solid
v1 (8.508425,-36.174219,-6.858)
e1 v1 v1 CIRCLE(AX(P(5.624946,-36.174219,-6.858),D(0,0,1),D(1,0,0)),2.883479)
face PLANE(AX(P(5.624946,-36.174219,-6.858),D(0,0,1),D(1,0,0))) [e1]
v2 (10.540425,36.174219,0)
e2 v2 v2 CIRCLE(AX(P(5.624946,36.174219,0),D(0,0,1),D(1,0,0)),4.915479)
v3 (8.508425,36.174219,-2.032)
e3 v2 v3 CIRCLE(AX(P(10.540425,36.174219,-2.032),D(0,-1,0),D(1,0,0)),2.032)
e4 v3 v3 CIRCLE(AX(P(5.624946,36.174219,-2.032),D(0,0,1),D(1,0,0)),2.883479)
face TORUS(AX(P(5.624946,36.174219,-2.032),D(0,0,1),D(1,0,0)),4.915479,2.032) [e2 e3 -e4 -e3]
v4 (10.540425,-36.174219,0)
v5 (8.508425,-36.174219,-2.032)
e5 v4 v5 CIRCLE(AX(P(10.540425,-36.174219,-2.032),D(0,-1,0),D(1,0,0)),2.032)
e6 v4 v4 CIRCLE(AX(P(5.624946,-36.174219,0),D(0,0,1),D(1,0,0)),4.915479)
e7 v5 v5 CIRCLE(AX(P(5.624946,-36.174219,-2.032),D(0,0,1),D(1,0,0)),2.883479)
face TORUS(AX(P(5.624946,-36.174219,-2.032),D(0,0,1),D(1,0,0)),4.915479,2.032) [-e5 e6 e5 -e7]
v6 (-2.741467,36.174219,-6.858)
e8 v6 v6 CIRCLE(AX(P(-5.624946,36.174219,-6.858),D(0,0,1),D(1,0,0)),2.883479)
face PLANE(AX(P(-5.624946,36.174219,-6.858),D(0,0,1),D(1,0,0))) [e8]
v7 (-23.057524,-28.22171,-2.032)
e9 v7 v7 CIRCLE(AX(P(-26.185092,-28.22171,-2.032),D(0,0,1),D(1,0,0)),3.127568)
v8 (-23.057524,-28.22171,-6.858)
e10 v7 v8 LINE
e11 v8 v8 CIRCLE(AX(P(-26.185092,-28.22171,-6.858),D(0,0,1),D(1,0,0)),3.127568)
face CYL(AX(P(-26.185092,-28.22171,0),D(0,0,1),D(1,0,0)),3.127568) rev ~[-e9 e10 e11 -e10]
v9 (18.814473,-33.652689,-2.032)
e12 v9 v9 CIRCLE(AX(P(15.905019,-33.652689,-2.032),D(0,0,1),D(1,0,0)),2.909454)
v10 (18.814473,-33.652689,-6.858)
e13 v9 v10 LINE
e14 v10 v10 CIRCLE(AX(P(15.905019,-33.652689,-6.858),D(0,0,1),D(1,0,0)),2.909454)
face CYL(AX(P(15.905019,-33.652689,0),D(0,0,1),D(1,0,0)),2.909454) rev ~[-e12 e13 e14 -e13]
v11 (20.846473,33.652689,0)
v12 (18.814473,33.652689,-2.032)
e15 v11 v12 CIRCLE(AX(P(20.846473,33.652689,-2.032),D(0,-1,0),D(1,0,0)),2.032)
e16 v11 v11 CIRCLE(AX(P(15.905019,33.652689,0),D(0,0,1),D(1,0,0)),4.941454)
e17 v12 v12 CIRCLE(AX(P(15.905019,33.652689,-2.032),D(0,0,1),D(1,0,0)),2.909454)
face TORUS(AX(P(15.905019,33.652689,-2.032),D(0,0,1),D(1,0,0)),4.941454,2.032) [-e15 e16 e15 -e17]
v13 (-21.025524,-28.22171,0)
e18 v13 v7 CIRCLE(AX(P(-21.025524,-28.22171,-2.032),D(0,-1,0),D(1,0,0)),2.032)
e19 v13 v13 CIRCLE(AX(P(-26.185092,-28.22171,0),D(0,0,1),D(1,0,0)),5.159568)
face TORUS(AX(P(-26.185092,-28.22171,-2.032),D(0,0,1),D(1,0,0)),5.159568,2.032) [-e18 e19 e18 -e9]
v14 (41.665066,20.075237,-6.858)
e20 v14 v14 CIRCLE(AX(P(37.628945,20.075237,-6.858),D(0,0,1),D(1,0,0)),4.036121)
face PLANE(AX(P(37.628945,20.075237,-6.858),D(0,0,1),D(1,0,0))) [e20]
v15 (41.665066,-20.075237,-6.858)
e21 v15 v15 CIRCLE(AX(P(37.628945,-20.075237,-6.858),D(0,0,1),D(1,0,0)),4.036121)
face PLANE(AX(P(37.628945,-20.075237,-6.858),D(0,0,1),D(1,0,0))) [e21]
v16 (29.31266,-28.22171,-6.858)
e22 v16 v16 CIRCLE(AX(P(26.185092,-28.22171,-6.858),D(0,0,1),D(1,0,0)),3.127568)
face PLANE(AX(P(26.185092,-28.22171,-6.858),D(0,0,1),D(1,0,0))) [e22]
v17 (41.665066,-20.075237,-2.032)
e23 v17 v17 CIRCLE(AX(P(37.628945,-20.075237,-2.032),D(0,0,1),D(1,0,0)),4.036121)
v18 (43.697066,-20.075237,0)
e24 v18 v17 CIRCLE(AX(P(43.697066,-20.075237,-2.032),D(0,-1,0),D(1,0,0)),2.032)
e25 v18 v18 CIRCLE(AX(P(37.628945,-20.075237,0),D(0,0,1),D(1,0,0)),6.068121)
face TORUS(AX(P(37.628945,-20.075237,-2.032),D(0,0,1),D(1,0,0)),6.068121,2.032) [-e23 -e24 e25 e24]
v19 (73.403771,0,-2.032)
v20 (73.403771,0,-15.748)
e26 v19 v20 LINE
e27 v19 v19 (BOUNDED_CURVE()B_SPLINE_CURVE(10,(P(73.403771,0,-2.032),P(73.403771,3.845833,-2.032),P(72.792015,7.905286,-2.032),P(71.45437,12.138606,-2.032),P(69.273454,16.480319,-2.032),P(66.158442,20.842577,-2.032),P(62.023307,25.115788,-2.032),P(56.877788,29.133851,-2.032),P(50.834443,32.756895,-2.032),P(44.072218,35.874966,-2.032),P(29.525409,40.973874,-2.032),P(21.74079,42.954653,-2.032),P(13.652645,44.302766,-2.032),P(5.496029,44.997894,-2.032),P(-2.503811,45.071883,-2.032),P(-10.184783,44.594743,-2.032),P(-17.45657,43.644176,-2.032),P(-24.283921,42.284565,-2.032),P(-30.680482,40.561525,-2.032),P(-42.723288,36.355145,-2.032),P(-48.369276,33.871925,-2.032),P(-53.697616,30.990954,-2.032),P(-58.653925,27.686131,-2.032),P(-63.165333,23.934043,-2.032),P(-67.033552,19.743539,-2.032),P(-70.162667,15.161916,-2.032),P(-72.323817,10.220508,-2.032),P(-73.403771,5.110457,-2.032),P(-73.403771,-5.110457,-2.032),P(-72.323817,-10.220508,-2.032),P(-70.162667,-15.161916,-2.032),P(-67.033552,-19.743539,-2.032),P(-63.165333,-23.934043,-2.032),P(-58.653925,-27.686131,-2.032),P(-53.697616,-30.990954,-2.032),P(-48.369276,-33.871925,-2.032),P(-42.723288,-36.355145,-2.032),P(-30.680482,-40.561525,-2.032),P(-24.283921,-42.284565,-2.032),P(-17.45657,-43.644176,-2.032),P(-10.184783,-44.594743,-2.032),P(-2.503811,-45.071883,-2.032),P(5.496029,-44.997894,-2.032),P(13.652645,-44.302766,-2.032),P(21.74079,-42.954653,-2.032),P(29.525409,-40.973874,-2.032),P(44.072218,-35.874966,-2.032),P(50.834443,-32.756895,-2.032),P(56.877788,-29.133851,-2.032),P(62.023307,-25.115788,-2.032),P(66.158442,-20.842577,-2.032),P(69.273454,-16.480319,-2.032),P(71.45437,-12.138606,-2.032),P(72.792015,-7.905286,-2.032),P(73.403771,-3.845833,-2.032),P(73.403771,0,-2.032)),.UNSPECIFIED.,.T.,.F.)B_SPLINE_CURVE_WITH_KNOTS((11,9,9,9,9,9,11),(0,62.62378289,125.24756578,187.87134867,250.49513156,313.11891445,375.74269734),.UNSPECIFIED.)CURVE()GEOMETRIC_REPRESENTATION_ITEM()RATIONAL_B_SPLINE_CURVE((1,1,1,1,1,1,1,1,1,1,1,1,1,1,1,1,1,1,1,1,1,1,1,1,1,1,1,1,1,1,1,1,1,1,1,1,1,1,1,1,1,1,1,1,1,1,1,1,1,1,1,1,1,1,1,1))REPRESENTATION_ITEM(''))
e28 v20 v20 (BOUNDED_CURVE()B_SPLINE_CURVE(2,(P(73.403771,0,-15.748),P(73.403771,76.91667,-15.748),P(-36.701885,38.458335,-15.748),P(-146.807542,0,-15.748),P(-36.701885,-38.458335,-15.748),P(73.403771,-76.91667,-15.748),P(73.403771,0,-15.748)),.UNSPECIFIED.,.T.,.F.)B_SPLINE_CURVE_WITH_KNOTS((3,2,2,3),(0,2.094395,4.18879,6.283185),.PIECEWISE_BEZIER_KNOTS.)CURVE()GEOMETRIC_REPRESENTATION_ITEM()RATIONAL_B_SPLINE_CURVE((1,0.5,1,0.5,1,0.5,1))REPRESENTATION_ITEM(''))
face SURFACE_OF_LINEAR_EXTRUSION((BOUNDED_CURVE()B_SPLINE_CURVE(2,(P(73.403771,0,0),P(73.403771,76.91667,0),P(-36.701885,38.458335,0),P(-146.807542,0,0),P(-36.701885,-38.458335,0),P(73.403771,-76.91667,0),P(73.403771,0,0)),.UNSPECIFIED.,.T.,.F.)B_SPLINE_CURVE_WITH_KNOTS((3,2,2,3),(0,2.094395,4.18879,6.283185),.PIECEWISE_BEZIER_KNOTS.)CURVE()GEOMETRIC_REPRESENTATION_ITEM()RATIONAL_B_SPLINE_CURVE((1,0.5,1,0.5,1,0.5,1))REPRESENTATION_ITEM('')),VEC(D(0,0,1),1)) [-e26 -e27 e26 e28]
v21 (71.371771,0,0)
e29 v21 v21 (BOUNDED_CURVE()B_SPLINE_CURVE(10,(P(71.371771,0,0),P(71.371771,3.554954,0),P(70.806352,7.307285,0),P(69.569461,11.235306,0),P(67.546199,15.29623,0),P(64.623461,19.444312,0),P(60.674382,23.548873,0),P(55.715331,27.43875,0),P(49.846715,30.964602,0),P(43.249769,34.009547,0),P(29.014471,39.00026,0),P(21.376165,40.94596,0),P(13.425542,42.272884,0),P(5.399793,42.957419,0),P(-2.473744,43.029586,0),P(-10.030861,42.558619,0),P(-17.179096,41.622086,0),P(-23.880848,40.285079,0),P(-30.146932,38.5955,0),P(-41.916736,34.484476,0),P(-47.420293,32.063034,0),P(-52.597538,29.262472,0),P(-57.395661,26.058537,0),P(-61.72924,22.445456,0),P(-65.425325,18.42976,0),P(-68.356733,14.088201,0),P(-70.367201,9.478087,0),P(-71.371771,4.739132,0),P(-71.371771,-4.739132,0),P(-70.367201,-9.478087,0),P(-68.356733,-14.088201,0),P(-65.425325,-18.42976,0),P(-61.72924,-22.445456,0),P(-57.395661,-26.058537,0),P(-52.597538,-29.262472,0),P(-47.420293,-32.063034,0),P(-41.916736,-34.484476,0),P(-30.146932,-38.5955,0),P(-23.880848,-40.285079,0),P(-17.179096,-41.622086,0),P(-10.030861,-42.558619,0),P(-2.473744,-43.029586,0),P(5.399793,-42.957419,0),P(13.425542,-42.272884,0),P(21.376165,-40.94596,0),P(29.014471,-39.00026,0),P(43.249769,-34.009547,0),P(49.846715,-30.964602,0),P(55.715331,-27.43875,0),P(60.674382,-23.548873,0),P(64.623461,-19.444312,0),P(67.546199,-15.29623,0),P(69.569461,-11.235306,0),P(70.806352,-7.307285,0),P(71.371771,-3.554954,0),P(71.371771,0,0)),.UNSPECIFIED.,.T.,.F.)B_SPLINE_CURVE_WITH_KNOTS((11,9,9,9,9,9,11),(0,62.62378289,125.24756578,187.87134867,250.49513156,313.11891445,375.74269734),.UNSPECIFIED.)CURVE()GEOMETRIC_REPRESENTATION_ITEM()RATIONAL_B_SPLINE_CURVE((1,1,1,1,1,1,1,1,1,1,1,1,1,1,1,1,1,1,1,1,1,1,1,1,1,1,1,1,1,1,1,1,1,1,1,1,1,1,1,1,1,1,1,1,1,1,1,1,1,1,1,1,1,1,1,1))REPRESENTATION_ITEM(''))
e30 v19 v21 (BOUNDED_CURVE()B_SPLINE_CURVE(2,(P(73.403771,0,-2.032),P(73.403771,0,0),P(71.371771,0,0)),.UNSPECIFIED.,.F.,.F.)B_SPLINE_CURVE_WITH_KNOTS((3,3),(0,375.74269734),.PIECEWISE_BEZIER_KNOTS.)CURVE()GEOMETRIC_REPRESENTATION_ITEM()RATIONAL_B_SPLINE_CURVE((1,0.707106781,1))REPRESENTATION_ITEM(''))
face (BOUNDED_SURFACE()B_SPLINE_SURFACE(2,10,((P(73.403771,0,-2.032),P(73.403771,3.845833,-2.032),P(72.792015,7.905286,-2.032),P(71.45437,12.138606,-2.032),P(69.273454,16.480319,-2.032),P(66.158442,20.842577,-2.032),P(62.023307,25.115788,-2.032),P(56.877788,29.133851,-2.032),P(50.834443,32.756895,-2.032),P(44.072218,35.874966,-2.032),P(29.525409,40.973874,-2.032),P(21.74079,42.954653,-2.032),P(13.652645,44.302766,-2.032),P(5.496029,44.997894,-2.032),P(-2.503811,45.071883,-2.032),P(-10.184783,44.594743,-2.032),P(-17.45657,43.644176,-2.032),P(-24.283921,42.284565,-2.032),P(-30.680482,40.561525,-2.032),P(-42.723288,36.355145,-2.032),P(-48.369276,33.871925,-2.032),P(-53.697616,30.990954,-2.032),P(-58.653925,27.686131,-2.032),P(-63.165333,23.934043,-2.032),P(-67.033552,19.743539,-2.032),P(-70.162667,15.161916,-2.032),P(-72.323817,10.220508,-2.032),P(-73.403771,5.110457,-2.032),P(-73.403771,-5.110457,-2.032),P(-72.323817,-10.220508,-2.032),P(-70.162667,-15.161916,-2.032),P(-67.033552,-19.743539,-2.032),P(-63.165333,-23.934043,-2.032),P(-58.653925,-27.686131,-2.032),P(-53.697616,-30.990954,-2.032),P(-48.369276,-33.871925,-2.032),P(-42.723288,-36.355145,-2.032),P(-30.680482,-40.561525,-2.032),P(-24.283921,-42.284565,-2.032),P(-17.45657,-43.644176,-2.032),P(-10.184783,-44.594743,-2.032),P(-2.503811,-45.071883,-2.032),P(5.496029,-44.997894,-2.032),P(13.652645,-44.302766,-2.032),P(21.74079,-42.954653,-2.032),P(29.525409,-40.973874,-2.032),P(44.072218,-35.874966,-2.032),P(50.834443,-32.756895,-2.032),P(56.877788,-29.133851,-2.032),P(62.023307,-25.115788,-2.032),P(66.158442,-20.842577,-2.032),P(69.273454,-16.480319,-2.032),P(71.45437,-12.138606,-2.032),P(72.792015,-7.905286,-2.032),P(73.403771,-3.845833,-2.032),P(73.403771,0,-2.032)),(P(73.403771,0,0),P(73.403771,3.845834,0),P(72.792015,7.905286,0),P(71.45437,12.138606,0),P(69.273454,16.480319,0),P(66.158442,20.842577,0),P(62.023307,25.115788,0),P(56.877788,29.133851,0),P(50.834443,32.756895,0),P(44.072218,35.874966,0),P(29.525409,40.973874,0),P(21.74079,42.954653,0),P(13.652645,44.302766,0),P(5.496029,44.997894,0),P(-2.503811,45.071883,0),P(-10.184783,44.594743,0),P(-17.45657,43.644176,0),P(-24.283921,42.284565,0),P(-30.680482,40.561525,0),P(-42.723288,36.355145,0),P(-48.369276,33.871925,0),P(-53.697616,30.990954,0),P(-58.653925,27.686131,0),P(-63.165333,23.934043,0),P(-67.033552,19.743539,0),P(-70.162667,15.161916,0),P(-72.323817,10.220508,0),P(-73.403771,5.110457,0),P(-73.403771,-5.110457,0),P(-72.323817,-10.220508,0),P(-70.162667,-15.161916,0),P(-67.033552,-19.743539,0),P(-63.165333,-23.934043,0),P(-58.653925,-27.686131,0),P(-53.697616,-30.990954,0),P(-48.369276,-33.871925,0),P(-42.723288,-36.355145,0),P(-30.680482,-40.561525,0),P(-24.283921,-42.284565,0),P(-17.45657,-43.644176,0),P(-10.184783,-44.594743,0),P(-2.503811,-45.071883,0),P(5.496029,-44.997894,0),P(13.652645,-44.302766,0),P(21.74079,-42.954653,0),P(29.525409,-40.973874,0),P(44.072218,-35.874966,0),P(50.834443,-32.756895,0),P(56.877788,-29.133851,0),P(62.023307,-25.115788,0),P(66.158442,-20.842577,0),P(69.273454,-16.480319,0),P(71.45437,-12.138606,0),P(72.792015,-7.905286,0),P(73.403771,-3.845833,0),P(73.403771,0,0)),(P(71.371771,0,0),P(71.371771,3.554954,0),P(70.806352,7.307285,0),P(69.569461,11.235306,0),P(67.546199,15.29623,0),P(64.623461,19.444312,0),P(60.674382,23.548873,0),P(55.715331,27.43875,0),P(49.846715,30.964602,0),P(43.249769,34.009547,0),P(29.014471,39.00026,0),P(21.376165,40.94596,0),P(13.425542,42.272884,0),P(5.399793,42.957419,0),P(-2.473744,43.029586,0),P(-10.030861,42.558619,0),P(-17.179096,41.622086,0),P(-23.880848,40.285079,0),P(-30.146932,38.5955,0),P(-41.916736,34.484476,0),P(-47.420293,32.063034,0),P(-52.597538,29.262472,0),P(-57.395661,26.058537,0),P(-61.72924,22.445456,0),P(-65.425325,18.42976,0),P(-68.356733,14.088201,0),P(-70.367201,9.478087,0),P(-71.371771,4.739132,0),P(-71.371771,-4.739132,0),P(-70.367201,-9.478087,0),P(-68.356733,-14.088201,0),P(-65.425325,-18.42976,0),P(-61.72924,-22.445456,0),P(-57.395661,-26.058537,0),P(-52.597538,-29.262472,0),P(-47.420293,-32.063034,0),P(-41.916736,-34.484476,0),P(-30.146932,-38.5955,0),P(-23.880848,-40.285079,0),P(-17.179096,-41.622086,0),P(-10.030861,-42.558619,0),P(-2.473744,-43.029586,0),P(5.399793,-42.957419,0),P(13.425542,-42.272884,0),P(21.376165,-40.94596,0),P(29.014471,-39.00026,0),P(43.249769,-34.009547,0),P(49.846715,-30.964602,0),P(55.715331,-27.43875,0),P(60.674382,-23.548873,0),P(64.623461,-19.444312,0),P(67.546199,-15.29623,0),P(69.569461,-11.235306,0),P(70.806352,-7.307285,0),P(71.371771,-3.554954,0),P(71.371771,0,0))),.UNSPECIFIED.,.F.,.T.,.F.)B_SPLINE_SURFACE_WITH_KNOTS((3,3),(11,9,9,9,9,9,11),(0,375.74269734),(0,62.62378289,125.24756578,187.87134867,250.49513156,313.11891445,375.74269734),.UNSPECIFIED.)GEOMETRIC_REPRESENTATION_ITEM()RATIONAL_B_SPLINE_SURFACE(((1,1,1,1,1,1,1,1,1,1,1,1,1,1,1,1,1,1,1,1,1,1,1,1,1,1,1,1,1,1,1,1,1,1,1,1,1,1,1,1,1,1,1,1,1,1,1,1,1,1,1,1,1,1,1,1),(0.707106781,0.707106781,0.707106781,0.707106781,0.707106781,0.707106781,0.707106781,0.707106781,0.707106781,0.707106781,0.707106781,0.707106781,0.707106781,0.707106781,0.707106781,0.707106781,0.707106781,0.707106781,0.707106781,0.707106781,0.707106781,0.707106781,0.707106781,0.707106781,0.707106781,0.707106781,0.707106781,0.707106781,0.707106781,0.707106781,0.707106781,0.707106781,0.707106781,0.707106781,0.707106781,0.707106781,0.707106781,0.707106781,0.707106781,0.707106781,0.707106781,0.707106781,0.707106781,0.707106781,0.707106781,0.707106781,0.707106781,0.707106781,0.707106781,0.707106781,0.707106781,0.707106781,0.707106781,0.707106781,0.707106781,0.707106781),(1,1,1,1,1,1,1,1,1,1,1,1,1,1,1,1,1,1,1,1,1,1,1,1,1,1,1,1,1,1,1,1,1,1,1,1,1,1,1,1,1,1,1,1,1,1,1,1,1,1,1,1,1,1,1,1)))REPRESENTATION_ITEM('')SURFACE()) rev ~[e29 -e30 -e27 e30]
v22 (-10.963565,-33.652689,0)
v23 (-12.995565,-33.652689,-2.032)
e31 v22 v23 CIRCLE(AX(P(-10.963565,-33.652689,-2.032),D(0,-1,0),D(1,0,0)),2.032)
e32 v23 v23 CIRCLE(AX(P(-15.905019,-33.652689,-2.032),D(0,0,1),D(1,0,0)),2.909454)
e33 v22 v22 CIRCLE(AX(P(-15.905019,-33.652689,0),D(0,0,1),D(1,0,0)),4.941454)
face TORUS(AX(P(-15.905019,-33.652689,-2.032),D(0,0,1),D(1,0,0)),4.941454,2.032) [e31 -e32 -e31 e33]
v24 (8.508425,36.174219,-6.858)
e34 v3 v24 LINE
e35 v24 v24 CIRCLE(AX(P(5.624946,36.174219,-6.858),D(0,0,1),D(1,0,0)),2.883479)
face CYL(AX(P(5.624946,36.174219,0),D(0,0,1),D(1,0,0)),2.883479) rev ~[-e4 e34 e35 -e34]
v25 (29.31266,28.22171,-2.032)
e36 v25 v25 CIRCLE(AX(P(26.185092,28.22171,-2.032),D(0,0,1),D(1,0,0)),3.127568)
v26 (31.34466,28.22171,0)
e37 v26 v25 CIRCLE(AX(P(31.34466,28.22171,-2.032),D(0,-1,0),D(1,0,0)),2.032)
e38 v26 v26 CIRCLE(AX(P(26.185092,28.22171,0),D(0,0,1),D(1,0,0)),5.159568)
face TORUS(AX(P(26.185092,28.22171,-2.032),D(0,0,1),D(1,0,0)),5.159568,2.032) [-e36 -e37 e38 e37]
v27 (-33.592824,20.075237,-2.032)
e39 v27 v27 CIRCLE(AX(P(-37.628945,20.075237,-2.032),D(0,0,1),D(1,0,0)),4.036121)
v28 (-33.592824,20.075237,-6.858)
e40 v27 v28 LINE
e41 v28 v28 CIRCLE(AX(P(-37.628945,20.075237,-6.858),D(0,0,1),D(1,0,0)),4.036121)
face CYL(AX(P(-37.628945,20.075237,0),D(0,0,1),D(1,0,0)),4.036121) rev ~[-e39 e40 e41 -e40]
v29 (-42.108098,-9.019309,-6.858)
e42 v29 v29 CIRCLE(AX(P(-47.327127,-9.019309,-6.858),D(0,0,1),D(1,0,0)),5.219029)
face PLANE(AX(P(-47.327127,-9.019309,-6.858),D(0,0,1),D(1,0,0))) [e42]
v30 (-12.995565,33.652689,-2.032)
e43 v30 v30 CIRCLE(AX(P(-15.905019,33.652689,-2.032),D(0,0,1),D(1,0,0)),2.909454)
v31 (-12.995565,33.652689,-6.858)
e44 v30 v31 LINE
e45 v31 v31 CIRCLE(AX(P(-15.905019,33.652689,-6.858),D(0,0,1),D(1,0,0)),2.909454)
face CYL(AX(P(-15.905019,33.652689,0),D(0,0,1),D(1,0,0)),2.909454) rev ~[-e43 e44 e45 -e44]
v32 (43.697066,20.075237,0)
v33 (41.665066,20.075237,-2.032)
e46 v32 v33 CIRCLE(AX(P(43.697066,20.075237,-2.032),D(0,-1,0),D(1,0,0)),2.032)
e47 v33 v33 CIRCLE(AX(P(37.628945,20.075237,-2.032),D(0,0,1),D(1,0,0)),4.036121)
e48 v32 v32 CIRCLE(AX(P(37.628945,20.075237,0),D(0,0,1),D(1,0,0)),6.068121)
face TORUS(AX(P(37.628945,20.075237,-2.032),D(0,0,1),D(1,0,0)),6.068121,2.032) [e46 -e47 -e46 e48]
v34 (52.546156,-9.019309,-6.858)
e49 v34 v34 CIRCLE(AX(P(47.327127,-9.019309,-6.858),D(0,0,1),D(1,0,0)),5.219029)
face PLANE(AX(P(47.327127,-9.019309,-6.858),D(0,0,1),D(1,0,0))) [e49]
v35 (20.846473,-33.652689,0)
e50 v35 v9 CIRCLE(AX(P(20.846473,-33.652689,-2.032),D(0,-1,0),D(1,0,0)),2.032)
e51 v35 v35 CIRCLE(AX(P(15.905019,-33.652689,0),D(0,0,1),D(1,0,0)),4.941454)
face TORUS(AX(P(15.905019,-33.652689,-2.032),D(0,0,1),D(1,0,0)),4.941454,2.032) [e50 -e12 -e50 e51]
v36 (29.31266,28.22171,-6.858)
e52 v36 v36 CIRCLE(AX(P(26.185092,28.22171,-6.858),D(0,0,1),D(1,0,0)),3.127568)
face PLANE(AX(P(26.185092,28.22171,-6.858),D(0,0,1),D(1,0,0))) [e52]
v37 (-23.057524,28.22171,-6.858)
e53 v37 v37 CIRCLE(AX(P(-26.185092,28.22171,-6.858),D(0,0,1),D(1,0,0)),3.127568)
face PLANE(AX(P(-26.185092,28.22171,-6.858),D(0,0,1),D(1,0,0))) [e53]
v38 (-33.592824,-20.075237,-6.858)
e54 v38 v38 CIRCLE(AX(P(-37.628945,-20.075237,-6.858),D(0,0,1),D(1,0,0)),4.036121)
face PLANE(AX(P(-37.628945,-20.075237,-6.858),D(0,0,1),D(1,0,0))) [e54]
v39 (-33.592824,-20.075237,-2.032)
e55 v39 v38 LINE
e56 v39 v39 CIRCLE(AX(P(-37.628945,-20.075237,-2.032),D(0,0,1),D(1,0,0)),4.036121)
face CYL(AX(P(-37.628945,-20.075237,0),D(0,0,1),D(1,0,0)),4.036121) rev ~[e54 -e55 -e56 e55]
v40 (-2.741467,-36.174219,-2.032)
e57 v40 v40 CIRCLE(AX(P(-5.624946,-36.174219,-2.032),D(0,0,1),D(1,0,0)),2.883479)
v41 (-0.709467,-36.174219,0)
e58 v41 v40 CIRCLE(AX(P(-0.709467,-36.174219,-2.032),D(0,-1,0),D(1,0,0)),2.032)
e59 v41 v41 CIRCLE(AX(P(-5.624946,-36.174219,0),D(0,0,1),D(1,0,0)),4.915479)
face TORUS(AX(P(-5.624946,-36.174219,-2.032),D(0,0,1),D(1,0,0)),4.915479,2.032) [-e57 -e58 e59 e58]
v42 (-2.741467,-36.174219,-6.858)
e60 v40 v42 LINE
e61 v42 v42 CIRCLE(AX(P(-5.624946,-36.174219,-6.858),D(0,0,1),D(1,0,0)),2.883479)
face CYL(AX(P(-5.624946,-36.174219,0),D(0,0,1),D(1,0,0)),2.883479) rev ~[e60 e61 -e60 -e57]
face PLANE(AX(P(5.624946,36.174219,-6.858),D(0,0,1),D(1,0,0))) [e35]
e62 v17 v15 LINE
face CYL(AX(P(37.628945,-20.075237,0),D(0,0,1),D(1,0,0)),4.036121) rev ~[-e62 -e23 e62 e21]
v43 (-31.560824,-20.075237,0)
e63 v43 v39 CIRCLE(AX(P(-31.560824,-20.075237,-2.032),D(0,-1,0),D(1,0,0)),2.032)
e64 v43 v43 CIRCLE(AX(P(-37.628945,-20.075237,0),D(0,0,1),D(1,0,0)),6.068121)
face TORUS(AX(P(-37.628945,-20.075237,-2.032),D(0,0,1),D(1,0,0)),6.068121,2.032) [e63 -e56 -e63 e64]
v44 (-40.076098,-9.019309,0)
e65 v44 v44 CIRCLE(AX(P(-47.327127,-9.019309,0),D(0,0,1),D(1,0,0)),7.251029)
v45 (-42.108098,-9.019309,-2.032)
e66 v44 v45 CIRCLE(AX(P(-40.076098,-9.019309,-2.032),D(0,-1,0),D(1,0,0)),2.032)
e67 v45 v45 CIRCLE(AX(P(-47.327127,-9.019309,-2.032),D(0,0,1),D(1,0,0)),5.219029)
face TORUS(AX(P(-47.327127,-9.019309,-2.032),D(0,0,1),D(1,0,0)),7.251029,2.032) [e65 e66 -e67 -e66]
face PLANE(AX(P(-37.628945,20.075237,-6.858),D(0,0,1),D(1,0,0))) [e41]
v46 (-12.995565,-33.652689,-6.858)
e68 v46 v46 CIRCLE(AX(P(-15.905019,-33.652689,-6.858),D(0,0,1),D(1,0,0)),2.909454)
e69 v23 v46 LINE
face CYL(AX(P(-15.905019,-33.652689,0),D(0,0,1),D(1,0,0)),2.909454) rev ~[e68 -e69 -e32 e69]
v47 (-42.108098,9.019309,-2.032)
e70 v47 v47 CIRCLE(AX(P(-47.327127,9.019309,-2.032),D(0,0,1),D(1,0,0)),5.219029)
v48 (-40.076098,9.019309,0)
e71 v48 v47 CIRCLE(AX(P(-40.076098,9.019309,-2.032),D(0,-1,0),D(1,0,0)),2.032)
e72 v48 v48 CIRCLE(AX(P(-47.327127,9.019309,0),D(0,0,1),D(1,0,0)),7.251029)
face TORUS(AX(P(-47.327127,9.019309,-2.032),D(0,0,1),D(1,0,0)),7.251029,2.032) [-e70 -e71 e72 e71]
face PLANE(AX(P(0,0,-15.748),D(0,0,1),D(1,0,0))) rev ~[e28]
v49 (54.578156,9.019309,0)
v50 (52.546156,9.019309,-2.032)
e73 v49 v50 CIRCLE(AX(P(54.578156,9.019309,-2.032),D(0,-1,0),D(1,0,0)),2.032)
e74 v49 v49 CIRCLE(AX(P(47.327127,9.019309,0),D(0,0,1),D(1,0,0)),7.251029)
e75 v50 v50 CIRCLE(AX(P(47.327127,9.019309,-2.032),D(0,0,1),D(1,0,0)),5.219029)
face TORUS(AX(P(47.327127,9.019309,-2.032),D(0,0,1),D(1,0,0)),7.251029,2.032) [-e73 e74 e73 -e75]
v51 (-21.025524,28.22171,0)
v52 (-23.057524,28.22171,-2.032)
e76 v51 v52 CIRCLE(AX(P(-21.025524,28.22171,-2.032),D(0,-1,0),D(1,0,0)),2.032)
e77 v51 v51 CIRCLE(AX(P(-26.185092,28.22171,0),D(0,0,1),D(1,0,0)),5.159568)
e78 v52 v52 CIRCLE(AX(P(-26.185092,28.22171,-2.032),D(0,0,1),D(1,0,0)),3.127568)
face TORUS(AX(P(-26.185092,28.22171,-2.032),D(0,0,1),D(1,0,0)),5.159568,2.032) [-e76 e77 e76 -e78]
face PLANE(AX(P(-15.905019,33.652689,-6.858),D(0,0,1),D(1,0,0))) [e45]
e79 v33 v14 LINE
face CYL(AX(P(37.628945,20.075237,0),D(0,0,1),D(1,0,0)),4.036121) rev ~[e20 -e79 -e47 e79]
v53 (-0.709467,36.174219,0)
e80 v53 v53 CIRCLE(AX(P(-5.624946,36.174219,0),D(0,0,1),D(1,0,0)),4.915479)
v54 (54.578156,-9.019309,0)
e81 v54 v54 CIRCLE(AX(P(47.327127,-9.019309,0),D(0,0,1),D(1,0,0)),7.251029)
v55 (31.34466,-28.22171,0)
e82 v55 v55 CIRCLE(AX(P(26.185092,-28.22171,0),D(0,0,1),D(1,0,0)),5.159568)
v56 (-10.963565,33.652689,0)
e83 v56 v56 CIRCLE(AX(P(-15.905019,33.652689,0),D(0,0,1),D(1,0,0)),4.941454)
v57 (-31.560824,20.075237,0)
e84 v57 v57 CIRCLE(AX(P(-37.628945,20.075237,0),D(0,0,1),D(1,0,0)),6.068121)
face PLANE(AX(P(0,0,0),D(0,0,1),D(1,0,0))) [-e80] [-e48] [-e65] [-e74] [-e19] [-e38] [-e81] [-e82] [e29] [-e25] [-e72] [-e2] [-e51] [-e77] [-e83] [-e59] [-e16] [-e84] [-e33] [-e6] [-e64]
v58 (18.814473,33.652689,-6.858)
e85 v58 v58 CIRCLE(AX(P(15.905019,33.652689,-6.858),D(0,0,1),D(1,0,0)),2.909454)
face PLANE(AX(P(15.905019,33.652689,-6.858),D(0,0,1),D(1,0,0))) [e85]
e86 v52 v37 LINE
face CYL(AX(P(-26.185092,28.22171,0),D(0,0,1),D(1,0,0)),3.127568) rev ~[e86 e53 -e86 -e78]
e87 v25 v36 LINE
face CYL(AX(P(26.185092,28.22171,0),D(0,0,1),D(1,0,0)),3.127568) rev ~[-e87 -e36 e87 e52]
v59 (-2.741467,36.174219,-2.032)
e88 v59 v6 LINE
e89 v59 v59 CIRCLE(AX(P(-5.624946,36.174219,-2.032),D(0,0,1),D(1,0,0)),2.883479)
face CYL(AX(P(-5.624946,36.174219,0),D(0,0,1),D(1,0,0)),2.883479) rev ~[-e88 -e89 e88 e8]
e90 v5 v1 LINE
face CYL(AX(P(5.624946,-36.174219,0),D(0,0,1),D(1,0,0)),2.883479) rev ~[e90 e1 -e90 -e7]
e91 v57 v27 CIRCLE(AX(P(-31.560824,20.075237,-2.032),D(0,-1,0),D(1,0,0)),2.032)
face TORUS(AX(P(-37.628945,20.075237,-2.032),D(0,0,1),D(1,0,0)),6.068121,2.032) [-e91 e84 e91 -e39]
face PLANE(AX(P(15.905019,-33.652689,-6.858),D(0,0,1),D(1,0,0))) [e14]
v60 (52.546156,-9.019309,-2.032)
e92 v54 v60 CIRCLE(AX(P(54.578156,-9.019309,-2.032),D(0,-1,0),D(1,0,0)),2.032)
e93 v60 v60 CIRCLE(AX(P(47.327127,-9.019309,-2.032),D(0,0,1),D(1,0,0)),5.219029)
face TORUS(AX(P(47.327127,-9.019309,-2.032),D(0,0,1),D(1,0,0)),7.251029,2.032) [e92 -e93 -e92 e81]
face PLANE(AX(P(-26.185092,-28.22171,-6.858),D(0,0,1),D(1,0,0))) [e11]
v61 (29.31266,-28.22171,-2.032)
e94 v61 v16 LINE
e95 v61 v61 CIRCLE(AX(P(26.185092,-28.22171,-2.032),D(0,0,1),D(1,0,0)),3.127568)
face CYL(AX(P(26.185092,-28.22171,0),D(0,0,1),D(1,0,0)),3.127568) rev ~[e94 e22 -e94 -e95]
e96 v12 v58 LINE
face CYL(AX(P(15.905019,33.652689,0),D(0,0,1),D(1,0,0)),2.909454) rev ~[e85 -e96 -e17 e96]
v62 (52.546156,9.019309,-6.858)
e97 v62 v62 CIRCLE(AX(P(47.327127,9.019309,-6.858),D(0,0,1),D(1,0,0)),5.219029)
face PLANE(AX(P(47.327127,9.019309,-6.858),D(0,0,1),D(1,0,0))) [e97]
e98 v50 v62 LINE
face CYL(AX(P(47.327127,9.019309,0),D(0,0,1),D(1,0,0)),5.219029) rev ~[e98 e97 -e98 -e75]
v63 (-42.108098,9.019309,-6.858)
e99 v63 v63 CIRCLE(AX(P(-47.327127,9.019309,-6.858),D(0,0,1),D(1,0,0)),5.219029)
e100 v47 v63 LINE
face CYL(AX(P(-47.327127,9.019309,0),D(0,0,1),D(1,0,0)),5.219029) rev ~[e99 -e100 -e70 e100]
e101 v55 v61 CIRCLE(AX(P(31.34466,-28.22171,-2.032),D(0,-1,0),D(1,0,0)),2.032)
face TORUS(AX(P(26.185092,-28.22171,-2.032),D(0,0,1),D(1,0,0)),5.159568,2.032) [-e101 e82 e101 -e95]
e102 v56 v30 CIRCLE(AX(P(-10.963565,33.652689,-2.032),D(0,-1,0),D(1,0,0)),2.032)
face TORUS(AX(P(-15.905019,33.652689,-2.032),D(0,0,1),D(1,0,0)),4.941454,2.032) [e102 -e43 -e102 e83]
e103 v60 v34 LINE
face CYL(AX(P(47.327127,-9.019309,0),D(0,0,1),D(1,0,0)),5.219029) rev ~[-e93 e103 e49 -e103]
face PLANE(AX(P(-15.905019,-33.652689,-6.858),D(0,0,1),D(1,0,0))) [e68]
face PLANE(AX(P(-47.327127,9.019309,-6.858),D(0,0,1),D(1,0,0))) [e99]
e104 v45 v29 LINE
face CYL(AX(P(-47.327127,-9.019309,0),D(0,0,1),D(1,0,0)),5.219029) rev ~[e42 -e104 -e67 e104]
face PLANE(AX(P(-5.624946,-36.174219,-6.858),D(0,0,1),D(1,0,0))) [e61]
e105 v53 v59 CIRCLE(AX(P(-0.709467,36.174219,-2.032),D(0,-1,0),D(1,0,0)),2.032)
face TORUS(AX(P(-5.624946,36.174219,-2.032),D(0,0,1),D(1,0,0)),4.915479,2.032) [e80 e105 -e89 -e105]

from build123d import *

# Parameters (mm, degrees)
F2_DEPTH = 15.748
F0_R     = 5.219029
F0_R_2   = 4.036121
F0_R_3   = 3.127568
F0_R_4   = 2.909454
F0_R_5   = 2.883479
F3_DEPTH = 6.858
F4_R     = 2.032


with BuildPart() as f2:
    # F1 (on Top) → F2 (new body)
    with BuildSketch(Plane.XY):
        with BuildLine():
            add(Edge.make_bspline(
                [(73.403771, 0), (73.403771, 76.91667), (-36.701885, 38.458335), (-146.807542, 0), (-36.701885, -38.458335), (73.403771, -76.91667), (73.403771, 0)],
                knots=[0, 0, 0, 2.094395, 2.094395, 4.18879, 4.18879, 6.283185, 6.283185, 6.283185], degree=2, weights=[1, 0.5, 1, 0.5, 1, 0.5, 1]))
        make_face()
    extrude(amount=-F2_DEPTH)

    # F0 (on Top) → F3 (cut)
    with BuildSketch(Plane.XY):
        with Locations((-47.327127, 9.019309)):
            Circle(F0_R)
        with Locations((-37.628945, 20.075237)):
            Circle(F0_R_2)
        with Locations((-26.185092, 28.22171)):
            Circle(F0_R_3)
        with Locations((-15.905019, 33.652689)):
            Circle(F0_R_4)
        with Locations((-5.624946, 36.174219)):
            Circle(F0_R_5)
        with Locations((26.185092, 28.22171)):
            Circle(F0_R_3)
        with Locations((5.624946, 36.174219)):
            Circle(F0_R_5)
        with Locations((15.905019, 33.652689)):
            Circle(F0_R_4)
        with Locations((37.628945, 20.075237)):
            Circle(F0_R_2)
        with Locations((47.327127, 9.019309)):
            Circle(F0_R)
        with Locations((26.185092, -28.22171)):
            Circle(F0_R_3)
        with Locations((-5.624946, -36.174219)):
            Circle(F0_R_5)
        with Locations((15.905019, -33.652689)):
            Circle(F0_R_4)
        with Locations((-26.185092, -28.22171)):
            Circle(F0_R_3)
        with Locations((-37.628945, -20.075237)):
            Circle(F0_R_2)
        with Locations((47.327127, -9.019309)):
            Circle(F0_R)
        with Locations((37.628945, -20.075237)):
            Circle(F0_R_2)
        with Locations((-15.905019, -33.652689)):
            Circle(F0_R_4)
        with Locations((5.624946, -36.174219)):
            Circle(F0_R_5)
        with Locations((-47.327127, -9.019309)):
            Circle(F0_R)
    extrude(amount=-F3_DEPTH, mode=Mode.SUBTRACT)

    # F4
    f4_edges = [f2.edges().sort_by_distance(p)[0] for p in [
        (-73.403771, 1e-06, 0),
        (-41.665066, -20.075237, 0),
        (-18.814473, -33.652689, 0),
        (-8.508425, -36.174219, 0),
        (-29.31266, -28.22171, 0),
        (-52.546157, -9.019309, 0),
        (2.741467, -36.174219, 0),
        (12.995565, -33.652689, 0),
        (23.057523, -28.22171, 0),
        (33.592824, -20.075237, 0),
        (42.108098, -9.019309, 0),
        (-52.546157, 9.019309, 0),
        (-41.665066, 20.075237, 0),
        (-29.31266, 28.22171, 0),
        (-18.814473, 33.652689, 0),
        (-8.508425, 36.174219, 0),
        (42.108098, 9.019309, 0),
        (23.057523, 28.22171, 0),
        (2.741467, 36.174219, 0),
        (12.995565, 33.652689, 0),
        (33.592824, 20.075237, 0),
    ]]
    fillet(f4_edges, radius=F4_R)


solid = f2.part
